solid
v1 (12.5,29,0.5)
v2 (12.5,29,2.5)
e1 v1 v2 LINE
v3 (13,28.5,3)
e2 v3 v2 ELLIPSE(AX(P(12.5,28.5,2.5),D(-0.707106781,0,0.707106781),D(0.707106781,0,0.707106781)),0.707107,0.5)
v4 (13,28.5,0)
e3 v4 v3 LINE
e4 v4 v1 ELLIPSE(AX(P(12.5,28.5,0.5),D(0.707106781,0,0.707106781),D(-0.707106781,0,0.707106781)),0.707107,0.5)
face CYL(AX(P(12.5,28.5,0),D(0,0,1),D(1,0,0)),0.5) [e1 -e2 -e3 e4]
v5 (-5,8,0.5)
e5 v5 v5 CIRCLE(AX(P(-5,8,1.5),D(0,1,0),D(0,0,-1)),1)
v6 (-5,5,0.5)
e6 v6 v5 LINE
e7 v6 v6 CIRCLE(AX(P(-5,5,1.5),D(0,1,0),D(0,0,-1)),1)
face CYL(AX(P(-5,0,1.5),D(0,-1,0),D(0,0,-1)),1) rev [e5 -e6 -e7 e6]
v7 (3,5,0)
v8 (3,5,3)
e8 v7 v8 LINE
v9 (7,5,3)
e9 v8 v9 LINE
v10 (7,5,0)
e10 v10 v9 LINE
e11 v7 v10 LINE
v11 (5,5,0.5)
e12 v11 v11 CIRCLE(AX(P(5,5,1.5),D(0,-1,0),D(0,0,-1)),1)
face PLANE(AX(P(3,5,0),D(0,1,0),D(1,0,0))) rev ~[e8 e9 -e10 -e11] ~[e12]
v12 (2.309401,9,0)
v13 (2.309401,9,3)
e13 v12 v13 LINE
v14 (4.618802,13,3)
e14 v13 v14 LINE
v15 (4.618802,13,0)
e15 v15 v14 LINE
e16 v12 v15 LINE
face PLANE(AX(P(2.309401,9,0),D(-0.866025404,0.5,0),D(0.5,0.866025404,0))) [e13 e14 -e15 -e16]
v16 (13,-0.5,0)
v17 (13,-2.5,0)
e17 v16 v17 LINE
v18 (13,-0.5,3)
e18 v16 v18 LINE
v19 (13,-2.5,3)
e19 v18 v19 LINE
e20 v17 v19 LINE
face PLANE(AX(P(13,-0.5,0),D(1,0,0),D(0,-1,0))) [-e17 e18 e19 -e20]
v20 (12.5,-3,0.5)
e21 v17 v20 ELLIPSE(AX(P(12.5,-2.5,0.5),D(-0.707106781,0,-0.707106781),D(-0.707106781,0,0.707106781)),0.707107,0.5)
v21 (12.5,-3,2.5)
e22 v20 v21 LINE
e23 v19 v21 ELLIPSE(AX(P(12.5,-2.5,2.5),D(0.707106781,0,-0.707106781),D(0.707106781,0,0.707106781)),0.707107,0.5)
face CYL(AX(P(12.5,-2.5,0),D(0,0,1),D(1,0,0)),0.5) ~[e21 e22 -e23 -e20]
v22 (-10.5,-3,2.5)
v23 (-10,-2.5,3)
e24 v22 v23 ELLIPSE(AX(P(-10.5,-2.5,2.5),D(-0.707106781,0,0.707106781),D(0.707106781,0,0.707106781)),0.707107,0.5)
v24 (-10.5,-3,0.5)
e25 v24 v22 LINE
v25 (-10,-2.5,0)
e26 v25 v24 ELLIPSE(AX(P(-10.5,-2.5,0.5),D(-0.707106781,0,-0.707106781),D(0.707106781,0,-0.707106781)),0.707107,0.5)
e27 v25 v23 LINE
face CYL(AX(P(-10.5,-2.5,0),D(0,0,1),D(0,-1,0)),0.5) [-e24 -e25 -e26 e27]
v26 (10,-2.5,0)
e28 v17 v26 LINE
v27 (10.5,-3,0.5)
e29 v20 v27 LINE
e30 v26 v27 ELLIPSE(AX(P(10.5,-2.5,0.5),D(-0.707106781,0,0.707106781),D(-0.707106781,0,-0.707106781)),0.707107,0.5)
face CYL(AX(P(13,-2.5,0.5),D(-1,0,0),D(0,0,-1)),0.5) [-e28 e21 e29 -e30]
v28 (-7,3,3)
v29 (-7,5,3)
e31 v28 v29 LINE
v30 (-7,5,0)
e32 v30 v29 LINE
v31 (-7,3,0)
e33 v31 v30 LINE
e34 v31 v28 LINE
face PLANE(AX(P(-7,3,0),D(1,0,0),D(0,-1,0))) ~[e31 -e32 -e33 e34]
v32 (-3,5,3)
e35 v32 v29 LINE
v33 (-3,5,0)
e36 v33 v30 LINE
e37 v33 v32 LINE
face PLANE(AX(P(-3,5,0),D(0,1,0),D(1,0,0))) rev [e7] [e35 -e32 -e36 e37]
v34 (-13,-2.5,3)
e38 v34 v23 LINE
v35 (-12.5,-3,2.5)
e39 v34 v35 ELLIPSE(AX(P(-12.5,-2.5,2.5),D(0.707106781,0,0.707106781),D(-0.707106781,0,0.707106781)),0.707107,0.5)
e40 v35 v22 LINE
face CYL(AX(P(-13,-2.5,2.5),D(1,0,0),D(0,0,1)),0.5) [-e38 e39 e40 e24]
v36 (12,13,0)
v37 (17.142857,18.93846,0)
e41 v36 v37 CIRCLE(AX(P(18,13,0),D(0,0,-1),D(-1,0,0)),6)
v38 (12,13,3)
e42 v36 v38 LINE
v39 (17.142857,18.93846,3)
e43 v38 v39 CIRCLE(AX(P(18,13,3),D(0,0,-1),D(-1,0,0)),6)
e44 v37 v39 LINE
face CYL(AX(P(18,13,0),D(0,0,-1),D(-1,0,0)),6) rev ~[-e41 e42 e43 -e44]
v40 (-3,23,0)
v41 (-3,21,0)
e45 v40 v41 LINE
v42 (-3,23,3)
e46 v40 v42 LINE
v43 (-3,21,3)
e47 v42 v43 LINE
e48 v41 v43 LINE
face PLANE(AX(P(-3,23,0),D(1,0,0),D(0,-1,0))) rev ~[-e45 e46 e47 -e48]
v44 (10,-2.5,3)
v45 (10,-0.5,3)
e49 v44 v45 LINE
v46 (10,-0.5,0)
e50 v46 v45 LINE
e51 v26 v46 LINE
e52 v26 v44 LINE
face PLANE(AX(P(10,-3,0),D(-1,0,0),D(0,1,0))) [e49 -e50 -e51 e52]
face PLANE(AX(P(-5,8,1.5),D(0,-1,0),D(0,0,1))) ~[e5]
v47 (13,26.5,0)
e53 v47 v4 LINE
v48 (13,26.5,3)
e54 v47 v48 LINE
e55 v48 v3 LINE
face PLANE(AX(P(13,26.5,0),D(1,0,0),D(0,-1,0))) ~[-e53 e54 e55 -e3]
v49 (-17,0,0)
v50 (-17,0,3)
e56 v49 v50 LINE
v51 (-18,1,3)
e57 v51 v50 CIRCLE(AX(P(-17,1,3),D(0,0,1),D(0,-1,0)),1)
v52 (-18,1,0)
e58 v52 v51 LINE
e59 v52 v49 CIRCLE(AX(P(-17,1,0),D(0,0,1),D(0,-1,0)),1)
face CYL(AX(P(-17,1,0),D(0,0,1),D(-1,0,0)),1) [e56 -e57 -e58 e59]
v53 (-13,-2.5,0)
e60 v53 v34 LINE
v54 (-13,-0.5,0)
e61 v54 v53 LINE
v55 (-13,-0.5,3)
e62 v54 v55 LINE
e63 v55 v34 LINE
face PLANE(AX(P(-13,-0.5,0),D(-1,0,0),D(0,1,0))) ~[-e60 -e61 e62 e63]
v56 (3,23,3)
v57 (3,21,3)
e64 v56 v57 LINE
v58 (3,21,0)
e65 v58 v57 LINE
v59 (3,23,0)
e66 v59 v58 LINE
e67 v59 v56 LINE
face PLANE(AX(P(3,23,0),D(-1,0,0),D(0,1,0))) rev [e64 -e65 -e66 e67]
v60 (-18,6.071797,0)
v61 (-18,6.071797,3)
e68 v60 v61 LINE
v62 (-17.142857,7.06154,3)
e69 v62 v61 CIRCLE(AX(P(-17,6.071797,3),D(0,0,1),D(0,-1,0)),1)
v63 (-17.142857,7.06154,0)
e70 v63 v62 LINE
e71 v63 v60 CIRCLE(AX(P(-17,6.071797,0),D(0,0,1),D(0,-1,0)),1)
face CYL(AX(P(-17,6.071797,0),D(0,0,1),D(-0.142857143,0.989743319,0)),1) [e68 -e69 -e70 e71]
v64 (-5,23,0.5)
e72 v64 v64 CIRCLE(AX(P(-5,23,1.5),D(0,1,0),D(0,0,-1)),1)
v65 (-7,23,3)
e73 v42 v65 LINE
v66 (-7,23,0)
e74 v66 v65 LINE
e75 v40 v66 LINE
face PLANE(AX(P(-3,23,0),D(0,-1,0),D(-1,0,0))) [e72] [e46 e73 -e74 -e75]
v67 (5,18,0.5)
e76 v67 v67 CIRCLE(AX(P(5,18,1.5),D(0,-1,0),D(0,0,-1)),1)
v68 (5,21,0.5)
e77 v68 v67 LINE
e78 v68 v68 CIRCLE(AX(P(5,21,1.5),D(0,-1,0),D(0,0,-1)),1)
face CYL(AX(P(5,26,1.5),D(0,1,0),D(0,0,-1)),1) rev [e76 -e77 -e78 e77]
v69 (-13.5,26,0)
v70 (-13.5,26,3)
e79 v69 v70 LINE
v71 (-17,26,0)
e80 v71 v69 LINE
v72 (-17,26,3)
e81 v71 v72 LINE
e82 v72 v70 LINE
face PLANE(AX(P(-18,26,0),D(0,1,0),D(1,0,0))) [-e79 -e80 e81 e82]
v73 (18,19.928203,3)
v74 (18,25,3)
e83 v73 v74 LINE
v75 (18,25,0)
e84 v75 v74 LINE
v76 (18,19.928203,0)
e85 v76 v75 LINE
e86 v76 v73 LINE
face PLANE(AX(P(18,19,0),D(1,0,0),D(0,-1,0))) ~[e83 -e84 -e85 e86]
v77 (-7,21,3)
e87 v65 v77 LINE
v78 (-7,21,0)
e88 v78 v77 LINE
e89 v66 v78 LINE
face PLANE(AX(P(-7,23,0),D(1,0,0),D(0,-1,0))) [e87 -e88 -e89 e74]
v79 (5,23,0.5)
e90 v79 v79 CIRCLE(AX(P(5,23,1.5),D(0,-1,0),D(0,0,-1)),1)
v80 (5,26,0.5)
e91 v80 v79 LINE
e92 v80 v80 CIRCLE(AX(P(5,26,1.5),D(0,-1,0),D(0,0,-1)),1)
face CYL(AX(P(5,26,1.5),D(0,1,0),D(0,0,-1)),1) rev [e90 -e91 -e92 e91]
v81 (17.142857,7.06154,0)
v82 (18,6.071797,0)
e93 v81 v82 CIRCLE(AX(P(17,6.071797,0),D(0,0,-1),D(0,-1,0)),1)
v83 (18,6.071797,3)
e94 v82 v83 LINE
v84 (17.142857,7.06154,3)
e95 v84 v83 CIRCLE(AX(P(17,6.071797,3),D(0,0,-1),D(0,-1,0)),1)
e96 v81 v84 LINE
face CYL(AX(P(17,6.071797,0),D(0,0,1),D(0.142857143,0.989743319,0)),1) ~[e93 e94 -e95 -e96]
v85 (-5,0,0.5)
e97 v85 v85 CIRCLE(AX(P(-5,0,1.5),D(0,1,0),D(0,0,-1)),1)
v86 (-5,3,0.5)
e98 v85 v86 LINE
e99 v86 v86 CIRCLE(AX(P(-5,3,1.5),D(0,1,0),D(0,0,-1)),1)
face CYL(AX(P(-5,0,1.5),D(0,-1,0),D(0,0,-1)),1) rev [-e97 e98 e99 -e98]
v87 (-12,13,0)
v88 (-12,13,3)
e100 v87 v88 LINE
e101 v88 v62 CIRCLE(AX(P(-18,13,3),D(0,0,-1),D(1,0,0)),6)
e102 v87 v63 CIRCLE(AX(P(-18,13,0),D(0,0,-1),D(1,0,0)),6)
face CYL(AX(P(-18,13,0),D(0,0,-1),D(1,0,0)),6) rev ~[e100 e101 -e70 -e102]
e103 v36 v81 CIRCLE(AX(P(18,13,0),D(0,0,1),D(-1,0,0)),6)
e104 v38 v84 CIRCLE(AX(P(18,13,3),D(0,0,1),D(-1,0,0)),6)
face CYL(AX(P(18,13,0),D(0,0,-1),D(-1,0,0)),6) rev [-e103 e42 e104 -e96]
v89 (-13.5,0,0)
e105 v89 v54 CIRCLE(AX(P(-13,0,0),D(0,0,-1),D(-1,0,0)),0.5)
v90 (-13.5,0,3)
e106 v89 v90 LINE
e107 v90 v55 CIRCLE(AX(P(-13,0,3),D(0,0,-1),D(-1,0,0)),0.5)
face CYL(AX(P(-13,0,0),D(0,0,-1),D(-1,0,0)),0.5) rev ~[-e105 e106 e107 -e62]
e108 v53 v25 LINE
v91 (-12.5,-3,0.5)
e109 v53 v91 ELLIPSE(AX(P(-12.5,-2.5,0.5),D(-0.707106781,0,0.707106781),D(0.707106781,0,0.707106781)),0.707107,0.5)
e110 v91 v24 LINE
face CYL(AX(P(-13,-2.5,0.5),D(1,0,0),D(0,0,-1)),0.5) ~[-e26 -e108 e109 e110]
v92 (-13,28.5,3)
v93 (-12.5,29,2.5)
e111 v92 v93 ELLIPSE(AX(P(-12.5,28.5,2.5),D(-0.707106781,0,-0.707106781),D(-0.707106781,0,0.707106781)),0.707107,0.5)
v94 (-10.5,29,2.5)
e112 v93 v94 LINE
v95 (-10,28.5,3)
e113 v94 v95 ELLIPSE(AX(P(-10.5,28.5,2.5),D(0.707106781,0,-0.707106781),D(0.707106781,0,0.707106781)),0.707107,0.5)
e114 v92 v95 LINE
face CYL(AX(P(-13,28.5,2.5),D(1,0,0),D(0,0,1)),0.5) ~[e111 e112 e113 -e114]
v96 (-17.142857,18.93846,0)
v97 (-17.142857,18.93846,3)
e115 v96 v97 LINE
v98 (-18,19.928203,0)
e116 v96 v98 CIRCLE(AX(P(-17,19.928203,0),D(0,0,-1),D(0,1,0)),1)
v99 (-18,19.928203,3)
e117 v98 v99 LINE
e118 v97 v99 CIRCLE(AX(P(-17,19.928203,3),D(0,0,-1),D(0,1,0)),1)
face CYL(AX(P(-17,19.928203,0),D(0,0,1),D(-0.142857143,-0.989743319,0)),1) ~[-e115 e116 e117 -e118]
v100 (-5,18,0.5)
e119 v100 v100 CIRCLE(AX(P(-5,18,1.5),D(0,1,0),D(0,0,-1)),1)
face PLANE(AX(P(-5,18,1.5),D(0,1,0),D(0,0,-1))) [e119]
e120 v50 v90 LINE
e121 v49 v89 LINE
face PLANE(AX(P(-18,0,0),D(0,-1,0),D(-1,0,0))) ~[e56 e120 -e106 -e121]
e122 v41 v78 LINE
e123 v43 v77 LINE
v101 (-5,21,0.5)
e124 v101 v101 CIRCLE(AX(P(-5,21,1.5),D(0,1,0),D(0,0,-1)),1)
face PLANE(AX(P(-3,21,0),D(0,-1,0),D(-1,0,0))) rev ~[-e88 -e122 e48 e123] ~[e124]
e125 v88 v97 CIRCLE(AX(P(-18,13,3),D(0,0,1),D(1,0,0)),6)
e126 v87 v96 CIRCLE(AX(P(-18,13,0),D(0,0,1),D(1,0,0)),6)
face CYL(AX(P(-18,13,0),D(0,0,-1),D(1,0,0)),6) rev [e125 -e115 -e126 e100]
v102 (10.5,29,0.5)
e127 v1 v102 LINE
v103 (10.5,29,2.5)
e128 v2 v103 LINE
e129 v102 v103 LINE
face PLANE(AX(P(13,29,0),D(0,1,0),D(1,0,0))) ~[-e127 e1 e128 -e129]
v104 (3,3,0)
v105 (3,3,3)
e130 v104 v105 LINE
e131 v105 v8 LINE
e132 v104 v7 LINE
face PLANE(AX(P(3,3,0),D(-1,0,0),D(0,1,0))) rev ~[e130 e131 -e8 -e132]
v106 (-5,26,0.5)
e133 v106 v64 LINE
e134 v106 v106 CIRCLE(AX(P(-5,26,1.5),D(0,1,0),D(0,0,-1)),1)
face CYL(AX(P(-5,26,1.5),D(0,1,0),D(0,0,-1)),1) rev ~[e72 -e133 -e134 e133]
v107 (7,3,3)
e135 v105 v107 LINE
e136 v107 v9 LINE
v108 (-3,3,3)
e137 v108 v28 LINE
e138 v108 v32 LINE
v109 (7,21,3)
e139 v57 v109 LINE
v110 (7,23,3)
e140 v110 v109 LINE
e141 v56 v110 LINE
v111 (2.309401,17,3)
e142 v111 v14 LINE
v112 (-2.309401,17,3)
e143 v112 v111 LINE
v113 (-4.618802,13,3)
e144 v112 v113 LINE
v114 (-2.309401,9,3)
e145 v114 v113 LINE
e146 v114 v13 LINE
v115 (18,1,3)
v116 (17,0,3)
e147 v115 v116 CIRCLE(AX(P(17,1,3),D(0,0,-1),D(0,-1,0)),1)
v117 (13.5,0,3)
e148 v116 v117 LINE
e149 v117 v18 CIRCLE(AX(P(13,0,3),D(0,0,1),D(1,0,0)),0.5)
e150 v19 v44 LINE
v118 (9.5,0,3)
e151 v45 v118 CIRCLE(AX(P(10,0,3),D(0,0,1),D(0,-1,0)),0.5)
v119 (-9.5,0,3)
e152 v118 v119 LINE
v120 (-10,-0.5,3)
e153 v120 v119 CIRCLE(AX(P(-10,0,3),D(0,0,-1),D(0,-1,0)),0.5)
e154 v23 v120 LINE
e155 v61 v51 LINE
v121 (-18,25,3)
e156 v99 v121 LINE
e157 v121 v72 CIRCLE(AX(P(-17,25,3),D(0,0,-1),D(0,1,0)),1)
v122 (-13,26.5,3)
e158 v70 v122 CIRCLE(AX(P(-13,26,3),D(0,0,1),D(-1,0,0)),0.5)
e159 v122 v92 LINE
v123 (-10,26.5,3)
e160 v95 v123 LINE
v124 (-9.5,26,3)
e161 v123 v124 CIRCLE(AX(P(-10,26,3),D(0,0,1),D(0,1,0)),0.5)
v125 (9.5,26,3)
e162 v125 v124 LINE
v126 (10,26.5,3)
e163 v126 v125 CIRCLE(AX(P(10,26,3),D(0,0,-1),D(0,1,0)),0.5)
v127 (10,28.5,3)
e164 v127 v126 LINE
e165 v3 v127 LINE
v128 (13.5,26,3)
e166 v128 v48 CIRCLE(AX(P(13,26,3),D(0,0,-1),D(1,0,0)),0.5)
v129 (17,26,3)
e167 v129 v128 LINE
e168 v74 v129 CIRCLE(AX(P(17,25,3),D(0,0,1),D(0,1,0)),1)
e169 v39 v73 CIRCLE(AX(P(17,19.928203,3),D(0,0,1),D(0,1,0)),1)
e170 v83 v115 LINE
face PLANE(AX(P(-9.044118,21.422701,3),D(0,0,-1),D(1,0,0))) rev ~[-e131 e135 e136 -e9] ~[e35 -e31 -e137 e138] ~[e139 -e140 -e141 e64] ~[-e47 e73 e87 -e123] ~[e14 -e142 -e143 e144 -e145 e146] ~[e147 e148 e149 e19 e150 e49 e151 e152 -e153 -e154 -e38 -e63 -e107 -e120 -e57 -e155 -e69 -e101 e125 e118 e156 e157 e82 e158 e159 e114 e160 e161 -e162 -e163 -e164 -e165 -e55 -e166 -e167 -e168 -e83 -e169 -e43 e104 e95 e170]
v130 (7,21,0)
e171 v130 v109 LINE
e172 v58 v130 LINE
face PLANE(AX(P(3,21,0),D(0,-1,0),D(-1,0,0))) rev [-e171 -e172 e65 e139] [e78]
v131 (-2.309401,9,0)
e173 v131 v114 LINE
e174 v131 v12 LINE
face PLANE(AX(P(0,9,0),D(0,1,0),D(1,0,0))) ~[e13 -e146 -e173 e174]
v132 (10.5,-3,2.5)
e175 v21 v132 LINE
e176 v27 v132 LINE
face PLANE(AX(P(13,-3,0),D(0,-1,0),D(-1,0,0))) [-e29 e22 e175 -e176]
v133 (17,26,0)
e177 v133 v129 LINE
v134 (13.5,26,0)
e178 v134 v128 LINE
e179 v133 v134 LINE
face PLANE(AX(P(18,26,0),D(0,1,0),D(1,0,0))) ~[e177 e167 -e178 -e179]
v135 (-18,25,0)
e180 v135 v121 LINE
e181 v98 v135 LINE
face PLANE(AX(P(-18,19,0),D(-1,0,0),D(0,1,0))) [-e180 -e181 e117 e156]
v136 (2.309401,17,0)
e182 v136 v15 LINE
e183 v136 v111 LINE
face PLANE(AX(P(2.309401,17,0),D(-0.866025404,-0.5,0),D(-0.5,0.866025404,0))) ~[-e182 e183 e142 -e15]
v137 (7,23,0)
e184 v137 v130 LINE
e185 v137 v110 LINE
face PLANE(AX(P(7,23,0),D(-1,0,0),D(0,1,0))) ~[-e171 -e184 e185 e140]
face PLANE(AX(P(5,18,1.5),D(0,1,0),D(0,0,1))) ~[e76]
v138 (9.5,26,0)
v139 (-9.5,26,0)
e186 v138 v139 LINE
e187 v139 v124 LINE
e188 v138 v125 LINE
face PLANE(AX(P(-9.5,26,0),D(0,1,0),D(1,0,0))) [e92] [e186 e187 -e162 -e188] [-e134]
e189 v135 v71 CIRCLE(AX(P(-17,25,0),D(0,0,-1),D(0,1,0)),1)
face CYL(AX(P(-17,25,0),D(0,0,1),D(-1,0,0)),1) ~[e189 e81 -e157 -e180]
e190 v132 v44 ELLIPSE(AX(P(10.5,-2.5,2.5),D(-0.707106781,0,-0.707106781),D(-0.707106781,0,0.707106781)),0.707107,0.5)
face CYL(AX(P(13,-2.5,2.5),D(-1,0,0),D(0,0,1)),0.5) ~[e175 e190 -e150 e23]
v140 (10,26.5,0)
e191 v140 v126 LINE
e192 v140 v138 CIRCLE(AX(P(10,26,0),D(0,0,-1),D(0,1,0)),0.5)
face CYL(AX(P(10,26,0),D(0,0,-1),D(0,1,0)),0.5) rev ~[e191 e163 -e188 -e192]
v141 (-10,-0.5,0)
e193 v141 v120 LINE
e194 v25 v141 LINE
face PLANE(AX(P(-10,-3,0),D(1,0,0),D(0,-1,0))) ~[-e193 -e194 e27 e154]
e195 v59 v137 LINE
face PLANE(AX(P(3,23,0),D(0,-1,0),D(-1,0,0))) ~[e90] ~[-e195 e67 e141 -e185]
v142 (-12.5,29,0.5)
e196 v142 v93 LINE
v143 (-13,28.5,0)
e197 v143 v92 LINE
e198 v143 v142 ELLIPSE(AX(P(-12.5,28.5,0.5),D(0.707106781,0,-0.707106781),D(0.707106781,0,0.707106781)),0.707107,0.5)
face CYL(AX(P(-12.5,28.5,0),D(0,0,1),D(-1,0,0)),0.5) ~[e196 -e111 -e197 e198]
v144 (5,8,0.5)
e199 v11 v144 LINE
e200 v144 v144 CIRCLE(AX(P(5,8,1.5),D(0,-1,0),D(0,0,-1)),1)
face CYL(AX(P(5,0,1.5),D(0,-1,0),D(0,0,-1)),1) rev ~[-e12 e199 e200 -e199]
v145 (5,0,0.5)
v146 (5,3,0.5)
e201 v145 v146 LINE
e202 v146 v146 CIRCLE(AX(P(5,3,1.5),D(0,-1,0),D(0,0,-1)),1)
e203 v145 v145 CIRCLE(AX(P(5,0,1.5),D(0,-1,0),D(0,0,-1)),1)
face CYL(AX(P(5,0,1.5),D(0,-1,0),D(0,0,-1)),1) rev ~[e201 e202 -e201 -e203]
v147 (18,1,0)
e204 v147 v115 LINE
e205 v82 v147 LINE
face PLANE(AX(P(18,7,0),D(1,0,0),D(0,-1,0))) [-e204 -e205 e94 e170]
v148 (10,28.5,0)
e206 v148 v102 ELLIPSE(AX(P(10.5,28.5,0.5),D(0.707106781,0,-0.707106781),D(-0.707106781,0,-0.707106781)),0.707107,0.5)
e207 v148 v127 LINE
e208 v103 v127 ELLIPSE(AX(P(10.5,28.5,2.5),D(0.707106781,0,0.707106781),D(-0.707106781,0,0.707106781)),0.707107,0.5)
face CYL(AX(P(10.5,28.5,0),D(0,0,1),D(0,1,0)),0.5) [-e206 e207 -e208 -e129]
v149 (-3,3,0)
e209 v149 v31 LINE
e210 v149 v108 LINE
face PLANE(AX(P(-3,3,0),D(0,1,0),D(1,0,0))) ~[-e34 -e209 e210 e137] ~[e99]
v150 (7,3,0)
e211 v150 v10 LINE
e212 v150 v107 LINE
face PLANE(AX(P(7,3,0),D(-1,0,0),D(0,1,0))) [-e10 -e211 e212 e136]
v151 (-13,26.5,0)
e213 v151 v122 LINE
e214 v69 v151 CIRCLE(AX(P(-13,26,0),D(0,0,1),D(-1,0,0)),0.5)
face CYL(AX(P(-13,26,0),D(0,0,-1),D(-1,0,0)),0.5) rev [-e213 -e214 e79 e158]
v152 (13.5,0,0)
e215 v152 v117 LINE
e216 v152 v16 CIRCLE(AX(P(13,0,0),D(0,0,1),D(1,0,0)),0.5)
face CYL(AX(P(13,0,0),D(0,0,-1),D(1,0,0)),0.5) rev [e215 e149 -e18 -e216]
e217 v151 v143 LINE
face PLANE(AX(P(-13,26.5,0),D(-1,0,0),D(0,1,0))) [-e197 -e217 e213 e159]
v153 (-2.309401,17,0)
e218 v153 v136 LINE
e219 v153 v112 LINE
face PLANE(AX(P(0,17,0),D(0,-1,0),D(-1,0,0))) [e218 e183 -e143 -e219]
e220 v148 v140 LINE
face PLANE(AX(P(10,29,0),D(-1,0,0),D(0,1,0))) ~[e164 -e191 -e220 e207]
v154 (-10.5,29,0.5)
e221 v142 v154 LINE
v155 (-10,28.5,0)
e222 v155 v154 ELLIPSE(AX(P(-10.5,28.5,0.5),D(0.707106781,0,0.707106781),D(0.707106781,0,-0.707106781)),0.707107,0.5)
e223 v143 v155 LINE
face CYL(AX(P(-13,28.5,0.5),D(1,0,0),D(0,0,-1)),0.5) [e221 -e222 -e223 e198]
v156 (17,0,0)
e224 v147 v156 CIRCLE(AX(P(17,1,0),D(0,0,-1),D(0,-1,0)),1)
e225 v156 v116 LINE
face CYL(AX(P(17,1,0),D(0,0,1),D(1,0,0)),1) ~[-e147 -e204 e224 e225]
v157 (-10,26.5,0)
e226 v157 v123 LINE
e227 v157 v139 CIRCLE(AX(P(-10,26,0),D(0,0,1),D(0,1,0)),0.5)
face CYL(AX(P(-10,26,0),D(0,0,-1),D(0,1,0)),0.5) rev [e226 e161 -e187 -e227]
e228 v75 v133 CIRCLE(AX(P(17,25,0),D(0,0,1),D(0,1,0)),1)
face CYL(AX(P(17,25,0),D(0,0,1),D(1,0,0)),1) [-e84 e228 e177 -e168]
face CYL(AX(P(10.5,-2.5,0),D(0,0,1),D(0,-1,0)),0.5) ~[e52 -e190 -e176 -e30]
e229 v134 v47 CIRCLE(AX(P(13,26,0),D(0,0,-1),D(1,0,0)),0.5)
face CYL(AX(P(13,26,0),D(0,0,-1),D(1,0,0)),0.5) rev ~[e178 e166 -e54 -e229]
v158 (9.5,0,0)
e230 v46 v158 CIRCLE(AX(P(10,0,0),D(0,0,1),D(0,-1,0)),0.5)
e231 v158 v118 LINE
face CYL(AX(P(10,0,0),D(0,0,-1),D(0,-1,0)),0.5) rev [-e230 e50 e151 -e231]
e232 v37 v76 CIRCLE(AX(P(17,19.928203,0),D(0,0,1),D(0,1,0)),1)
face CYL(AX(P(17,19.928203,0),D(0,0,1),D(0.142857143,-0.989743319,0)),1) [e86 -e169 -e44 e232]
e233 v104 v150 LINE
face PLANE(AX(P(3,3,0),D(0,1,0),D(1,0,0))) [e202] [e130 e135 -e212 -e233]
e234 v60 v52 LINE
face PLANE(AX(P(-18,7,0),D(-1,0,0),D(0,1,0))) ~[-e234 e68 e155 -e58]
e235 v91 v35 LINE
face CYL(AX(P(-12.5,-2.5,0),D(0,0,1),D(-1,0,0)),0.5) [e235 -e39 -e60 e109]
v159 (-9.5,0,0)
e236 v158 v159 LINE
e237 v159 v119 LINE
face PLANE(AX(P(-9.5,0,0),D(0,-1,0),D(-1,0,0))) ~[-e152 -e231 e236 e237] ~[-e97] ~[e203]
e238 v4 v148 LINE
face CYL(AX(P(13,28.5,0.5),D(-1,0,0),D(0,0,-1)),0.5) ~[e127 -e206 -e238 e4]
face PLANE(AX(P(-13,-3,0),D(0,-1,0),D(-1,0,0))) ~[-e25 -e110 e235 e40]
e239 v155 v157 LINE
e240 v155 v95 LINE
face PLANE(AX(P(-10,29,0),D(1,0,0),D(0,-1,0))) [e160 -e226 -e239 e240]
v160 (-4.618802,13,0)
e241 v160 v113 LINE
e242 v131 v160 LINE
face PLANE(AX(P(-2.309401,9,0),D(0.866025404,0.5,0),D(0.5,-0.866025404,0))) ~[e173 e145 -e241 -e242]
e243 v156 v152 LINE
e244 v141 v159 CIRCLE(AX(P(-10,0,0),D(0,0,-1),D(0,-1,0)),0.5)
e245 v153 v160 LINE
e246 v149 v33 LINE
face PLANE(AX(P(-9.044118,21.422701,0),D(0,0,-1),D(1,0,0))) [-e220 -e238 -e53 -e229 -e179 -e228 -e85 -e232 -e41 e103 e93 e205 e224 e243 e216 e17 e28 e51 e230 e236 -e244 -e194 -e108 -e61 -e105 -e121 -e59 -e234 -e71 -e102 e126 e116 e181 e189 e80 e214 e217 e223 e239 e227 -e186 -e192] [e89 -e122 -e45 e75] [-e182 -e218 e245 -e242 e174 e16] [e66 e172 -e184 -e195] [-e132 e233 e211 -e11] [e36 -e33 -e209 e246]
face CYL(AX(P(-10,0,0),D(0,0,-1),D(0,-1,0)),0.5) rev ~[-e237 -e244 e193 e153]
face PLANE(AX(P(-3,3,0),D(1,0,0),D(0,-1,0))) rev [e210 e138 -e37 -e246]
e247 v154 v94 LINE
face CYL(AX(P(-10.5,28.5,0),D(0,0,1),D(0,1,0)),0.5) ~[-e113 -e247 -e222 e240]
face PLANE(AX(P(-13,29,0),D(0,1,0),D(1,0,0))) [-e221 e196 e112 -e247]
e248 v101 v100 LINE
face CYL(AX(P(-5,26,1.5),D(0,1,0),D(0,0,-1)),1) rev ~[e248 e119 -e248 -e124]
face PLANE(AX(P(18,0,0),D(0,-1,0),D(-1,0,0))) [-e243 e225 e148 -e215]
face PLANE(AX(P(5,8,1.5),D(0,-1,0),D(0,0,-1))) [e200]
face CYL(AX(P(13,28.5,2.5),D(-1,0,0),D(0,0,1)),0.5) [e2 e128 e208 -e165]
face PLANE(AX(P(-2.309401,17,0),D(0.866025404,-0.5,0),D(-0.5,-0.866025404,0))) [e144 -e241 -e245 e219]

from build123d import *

# Parameters (mm, degrees)
SKETCH1_W           = 4
SKETCH1_H           = 2
BOSS_EXTRUDE1_DEPTH = 3
SKETCH2_R           = 1
CUT_EXTRUDE1_DEPTH  = 8
FILLET1_R           = 1
FILLET2_R           = 0.5


with BuildPart() as part:
    # Sketch1 → Boss-Extrude1 (new body)
    with BuildSketch(Plane.XY):
        with BuildLine():
            ThreePointArc((12, 13), (13.757359313, 8.757359313), (18, 7))
            Line((18, 7), (18, 0))
            Line((18, 0), (13.5, 0))
            ThreePointArc((13.5, 0), (12.646446609, 0.353553391), (13, -0.5))
            Line((13, -0.5), (13, -3))
            Line((13, -3), (10, -3))
            Line((10, -3), (10, -0.5))
            ThreePointArc((10, -0.5), (10.353553391, 0.353553391), (9.5, 0))
            Line((9.5, 0), (0, 0))
            Line((0, 0), (0, 9))
            Line((0, 9), (2.309401077, 9))
            Line((2.309401077, 9), (4.618802154, 13))
            Line((4.618802154, 13), (12, 13))
        make_face()
        with Locations((5, 4)):
            Rectangle(SKETCH1_W, SKETCH1_H, mode=Mode.SUBTRACT)
    extrude(amount=BOSS_EXTRUDE1_DEPTH)

    # Sketch2 → Cut-Extrude1 (cut)
    with BuildSketch(Plane.XZ):
        with Locations(Location((5, 1.5, 0), (0, 0, 270))):
            Circle(SKETCH2_R)
    extrude(amount=-CUT_EXTRUDE1_DEPTH, mode=Mode.SUBTRACT)

    # Fillet1
    fillet1_edges = [part.edges().sort_by_distance(p)[0] for p in [
        (18, 7, 1.5),
        (18, 0, 1.5),
    ]]
    fillet(fillet1_edges, radius=FILLET1_R)

    # Fillet2
    fillet2_edges = [part.edges().sort_by_distance(p)[0] for p in [
        (11.5, -3, 0),
        (13, -3, 1.5),
        (10, -3, 1.5),
        (11.5, -3, 3),
    ]]
    fillet(fillet2_edges, radius=FILLET2_R)

    # Mirror1: part across plane


with BuildPart() as part_1:
    add(part.part)
    add(part.part.mirror(Plane(origin=(0, 0, 3), x_dir=(0, 0, 1), z_dir=(-1, 0, 0))))

    # Mirror2: part across plane


with BuildPart() as part_2:
    add(part_1.part)
    add(part_1.part.mirror(Plane(origin=(0, 13, 3), x_dir=(0, 0, 1), z_dir=(0, 1, 0))))


solid = part_2.part
